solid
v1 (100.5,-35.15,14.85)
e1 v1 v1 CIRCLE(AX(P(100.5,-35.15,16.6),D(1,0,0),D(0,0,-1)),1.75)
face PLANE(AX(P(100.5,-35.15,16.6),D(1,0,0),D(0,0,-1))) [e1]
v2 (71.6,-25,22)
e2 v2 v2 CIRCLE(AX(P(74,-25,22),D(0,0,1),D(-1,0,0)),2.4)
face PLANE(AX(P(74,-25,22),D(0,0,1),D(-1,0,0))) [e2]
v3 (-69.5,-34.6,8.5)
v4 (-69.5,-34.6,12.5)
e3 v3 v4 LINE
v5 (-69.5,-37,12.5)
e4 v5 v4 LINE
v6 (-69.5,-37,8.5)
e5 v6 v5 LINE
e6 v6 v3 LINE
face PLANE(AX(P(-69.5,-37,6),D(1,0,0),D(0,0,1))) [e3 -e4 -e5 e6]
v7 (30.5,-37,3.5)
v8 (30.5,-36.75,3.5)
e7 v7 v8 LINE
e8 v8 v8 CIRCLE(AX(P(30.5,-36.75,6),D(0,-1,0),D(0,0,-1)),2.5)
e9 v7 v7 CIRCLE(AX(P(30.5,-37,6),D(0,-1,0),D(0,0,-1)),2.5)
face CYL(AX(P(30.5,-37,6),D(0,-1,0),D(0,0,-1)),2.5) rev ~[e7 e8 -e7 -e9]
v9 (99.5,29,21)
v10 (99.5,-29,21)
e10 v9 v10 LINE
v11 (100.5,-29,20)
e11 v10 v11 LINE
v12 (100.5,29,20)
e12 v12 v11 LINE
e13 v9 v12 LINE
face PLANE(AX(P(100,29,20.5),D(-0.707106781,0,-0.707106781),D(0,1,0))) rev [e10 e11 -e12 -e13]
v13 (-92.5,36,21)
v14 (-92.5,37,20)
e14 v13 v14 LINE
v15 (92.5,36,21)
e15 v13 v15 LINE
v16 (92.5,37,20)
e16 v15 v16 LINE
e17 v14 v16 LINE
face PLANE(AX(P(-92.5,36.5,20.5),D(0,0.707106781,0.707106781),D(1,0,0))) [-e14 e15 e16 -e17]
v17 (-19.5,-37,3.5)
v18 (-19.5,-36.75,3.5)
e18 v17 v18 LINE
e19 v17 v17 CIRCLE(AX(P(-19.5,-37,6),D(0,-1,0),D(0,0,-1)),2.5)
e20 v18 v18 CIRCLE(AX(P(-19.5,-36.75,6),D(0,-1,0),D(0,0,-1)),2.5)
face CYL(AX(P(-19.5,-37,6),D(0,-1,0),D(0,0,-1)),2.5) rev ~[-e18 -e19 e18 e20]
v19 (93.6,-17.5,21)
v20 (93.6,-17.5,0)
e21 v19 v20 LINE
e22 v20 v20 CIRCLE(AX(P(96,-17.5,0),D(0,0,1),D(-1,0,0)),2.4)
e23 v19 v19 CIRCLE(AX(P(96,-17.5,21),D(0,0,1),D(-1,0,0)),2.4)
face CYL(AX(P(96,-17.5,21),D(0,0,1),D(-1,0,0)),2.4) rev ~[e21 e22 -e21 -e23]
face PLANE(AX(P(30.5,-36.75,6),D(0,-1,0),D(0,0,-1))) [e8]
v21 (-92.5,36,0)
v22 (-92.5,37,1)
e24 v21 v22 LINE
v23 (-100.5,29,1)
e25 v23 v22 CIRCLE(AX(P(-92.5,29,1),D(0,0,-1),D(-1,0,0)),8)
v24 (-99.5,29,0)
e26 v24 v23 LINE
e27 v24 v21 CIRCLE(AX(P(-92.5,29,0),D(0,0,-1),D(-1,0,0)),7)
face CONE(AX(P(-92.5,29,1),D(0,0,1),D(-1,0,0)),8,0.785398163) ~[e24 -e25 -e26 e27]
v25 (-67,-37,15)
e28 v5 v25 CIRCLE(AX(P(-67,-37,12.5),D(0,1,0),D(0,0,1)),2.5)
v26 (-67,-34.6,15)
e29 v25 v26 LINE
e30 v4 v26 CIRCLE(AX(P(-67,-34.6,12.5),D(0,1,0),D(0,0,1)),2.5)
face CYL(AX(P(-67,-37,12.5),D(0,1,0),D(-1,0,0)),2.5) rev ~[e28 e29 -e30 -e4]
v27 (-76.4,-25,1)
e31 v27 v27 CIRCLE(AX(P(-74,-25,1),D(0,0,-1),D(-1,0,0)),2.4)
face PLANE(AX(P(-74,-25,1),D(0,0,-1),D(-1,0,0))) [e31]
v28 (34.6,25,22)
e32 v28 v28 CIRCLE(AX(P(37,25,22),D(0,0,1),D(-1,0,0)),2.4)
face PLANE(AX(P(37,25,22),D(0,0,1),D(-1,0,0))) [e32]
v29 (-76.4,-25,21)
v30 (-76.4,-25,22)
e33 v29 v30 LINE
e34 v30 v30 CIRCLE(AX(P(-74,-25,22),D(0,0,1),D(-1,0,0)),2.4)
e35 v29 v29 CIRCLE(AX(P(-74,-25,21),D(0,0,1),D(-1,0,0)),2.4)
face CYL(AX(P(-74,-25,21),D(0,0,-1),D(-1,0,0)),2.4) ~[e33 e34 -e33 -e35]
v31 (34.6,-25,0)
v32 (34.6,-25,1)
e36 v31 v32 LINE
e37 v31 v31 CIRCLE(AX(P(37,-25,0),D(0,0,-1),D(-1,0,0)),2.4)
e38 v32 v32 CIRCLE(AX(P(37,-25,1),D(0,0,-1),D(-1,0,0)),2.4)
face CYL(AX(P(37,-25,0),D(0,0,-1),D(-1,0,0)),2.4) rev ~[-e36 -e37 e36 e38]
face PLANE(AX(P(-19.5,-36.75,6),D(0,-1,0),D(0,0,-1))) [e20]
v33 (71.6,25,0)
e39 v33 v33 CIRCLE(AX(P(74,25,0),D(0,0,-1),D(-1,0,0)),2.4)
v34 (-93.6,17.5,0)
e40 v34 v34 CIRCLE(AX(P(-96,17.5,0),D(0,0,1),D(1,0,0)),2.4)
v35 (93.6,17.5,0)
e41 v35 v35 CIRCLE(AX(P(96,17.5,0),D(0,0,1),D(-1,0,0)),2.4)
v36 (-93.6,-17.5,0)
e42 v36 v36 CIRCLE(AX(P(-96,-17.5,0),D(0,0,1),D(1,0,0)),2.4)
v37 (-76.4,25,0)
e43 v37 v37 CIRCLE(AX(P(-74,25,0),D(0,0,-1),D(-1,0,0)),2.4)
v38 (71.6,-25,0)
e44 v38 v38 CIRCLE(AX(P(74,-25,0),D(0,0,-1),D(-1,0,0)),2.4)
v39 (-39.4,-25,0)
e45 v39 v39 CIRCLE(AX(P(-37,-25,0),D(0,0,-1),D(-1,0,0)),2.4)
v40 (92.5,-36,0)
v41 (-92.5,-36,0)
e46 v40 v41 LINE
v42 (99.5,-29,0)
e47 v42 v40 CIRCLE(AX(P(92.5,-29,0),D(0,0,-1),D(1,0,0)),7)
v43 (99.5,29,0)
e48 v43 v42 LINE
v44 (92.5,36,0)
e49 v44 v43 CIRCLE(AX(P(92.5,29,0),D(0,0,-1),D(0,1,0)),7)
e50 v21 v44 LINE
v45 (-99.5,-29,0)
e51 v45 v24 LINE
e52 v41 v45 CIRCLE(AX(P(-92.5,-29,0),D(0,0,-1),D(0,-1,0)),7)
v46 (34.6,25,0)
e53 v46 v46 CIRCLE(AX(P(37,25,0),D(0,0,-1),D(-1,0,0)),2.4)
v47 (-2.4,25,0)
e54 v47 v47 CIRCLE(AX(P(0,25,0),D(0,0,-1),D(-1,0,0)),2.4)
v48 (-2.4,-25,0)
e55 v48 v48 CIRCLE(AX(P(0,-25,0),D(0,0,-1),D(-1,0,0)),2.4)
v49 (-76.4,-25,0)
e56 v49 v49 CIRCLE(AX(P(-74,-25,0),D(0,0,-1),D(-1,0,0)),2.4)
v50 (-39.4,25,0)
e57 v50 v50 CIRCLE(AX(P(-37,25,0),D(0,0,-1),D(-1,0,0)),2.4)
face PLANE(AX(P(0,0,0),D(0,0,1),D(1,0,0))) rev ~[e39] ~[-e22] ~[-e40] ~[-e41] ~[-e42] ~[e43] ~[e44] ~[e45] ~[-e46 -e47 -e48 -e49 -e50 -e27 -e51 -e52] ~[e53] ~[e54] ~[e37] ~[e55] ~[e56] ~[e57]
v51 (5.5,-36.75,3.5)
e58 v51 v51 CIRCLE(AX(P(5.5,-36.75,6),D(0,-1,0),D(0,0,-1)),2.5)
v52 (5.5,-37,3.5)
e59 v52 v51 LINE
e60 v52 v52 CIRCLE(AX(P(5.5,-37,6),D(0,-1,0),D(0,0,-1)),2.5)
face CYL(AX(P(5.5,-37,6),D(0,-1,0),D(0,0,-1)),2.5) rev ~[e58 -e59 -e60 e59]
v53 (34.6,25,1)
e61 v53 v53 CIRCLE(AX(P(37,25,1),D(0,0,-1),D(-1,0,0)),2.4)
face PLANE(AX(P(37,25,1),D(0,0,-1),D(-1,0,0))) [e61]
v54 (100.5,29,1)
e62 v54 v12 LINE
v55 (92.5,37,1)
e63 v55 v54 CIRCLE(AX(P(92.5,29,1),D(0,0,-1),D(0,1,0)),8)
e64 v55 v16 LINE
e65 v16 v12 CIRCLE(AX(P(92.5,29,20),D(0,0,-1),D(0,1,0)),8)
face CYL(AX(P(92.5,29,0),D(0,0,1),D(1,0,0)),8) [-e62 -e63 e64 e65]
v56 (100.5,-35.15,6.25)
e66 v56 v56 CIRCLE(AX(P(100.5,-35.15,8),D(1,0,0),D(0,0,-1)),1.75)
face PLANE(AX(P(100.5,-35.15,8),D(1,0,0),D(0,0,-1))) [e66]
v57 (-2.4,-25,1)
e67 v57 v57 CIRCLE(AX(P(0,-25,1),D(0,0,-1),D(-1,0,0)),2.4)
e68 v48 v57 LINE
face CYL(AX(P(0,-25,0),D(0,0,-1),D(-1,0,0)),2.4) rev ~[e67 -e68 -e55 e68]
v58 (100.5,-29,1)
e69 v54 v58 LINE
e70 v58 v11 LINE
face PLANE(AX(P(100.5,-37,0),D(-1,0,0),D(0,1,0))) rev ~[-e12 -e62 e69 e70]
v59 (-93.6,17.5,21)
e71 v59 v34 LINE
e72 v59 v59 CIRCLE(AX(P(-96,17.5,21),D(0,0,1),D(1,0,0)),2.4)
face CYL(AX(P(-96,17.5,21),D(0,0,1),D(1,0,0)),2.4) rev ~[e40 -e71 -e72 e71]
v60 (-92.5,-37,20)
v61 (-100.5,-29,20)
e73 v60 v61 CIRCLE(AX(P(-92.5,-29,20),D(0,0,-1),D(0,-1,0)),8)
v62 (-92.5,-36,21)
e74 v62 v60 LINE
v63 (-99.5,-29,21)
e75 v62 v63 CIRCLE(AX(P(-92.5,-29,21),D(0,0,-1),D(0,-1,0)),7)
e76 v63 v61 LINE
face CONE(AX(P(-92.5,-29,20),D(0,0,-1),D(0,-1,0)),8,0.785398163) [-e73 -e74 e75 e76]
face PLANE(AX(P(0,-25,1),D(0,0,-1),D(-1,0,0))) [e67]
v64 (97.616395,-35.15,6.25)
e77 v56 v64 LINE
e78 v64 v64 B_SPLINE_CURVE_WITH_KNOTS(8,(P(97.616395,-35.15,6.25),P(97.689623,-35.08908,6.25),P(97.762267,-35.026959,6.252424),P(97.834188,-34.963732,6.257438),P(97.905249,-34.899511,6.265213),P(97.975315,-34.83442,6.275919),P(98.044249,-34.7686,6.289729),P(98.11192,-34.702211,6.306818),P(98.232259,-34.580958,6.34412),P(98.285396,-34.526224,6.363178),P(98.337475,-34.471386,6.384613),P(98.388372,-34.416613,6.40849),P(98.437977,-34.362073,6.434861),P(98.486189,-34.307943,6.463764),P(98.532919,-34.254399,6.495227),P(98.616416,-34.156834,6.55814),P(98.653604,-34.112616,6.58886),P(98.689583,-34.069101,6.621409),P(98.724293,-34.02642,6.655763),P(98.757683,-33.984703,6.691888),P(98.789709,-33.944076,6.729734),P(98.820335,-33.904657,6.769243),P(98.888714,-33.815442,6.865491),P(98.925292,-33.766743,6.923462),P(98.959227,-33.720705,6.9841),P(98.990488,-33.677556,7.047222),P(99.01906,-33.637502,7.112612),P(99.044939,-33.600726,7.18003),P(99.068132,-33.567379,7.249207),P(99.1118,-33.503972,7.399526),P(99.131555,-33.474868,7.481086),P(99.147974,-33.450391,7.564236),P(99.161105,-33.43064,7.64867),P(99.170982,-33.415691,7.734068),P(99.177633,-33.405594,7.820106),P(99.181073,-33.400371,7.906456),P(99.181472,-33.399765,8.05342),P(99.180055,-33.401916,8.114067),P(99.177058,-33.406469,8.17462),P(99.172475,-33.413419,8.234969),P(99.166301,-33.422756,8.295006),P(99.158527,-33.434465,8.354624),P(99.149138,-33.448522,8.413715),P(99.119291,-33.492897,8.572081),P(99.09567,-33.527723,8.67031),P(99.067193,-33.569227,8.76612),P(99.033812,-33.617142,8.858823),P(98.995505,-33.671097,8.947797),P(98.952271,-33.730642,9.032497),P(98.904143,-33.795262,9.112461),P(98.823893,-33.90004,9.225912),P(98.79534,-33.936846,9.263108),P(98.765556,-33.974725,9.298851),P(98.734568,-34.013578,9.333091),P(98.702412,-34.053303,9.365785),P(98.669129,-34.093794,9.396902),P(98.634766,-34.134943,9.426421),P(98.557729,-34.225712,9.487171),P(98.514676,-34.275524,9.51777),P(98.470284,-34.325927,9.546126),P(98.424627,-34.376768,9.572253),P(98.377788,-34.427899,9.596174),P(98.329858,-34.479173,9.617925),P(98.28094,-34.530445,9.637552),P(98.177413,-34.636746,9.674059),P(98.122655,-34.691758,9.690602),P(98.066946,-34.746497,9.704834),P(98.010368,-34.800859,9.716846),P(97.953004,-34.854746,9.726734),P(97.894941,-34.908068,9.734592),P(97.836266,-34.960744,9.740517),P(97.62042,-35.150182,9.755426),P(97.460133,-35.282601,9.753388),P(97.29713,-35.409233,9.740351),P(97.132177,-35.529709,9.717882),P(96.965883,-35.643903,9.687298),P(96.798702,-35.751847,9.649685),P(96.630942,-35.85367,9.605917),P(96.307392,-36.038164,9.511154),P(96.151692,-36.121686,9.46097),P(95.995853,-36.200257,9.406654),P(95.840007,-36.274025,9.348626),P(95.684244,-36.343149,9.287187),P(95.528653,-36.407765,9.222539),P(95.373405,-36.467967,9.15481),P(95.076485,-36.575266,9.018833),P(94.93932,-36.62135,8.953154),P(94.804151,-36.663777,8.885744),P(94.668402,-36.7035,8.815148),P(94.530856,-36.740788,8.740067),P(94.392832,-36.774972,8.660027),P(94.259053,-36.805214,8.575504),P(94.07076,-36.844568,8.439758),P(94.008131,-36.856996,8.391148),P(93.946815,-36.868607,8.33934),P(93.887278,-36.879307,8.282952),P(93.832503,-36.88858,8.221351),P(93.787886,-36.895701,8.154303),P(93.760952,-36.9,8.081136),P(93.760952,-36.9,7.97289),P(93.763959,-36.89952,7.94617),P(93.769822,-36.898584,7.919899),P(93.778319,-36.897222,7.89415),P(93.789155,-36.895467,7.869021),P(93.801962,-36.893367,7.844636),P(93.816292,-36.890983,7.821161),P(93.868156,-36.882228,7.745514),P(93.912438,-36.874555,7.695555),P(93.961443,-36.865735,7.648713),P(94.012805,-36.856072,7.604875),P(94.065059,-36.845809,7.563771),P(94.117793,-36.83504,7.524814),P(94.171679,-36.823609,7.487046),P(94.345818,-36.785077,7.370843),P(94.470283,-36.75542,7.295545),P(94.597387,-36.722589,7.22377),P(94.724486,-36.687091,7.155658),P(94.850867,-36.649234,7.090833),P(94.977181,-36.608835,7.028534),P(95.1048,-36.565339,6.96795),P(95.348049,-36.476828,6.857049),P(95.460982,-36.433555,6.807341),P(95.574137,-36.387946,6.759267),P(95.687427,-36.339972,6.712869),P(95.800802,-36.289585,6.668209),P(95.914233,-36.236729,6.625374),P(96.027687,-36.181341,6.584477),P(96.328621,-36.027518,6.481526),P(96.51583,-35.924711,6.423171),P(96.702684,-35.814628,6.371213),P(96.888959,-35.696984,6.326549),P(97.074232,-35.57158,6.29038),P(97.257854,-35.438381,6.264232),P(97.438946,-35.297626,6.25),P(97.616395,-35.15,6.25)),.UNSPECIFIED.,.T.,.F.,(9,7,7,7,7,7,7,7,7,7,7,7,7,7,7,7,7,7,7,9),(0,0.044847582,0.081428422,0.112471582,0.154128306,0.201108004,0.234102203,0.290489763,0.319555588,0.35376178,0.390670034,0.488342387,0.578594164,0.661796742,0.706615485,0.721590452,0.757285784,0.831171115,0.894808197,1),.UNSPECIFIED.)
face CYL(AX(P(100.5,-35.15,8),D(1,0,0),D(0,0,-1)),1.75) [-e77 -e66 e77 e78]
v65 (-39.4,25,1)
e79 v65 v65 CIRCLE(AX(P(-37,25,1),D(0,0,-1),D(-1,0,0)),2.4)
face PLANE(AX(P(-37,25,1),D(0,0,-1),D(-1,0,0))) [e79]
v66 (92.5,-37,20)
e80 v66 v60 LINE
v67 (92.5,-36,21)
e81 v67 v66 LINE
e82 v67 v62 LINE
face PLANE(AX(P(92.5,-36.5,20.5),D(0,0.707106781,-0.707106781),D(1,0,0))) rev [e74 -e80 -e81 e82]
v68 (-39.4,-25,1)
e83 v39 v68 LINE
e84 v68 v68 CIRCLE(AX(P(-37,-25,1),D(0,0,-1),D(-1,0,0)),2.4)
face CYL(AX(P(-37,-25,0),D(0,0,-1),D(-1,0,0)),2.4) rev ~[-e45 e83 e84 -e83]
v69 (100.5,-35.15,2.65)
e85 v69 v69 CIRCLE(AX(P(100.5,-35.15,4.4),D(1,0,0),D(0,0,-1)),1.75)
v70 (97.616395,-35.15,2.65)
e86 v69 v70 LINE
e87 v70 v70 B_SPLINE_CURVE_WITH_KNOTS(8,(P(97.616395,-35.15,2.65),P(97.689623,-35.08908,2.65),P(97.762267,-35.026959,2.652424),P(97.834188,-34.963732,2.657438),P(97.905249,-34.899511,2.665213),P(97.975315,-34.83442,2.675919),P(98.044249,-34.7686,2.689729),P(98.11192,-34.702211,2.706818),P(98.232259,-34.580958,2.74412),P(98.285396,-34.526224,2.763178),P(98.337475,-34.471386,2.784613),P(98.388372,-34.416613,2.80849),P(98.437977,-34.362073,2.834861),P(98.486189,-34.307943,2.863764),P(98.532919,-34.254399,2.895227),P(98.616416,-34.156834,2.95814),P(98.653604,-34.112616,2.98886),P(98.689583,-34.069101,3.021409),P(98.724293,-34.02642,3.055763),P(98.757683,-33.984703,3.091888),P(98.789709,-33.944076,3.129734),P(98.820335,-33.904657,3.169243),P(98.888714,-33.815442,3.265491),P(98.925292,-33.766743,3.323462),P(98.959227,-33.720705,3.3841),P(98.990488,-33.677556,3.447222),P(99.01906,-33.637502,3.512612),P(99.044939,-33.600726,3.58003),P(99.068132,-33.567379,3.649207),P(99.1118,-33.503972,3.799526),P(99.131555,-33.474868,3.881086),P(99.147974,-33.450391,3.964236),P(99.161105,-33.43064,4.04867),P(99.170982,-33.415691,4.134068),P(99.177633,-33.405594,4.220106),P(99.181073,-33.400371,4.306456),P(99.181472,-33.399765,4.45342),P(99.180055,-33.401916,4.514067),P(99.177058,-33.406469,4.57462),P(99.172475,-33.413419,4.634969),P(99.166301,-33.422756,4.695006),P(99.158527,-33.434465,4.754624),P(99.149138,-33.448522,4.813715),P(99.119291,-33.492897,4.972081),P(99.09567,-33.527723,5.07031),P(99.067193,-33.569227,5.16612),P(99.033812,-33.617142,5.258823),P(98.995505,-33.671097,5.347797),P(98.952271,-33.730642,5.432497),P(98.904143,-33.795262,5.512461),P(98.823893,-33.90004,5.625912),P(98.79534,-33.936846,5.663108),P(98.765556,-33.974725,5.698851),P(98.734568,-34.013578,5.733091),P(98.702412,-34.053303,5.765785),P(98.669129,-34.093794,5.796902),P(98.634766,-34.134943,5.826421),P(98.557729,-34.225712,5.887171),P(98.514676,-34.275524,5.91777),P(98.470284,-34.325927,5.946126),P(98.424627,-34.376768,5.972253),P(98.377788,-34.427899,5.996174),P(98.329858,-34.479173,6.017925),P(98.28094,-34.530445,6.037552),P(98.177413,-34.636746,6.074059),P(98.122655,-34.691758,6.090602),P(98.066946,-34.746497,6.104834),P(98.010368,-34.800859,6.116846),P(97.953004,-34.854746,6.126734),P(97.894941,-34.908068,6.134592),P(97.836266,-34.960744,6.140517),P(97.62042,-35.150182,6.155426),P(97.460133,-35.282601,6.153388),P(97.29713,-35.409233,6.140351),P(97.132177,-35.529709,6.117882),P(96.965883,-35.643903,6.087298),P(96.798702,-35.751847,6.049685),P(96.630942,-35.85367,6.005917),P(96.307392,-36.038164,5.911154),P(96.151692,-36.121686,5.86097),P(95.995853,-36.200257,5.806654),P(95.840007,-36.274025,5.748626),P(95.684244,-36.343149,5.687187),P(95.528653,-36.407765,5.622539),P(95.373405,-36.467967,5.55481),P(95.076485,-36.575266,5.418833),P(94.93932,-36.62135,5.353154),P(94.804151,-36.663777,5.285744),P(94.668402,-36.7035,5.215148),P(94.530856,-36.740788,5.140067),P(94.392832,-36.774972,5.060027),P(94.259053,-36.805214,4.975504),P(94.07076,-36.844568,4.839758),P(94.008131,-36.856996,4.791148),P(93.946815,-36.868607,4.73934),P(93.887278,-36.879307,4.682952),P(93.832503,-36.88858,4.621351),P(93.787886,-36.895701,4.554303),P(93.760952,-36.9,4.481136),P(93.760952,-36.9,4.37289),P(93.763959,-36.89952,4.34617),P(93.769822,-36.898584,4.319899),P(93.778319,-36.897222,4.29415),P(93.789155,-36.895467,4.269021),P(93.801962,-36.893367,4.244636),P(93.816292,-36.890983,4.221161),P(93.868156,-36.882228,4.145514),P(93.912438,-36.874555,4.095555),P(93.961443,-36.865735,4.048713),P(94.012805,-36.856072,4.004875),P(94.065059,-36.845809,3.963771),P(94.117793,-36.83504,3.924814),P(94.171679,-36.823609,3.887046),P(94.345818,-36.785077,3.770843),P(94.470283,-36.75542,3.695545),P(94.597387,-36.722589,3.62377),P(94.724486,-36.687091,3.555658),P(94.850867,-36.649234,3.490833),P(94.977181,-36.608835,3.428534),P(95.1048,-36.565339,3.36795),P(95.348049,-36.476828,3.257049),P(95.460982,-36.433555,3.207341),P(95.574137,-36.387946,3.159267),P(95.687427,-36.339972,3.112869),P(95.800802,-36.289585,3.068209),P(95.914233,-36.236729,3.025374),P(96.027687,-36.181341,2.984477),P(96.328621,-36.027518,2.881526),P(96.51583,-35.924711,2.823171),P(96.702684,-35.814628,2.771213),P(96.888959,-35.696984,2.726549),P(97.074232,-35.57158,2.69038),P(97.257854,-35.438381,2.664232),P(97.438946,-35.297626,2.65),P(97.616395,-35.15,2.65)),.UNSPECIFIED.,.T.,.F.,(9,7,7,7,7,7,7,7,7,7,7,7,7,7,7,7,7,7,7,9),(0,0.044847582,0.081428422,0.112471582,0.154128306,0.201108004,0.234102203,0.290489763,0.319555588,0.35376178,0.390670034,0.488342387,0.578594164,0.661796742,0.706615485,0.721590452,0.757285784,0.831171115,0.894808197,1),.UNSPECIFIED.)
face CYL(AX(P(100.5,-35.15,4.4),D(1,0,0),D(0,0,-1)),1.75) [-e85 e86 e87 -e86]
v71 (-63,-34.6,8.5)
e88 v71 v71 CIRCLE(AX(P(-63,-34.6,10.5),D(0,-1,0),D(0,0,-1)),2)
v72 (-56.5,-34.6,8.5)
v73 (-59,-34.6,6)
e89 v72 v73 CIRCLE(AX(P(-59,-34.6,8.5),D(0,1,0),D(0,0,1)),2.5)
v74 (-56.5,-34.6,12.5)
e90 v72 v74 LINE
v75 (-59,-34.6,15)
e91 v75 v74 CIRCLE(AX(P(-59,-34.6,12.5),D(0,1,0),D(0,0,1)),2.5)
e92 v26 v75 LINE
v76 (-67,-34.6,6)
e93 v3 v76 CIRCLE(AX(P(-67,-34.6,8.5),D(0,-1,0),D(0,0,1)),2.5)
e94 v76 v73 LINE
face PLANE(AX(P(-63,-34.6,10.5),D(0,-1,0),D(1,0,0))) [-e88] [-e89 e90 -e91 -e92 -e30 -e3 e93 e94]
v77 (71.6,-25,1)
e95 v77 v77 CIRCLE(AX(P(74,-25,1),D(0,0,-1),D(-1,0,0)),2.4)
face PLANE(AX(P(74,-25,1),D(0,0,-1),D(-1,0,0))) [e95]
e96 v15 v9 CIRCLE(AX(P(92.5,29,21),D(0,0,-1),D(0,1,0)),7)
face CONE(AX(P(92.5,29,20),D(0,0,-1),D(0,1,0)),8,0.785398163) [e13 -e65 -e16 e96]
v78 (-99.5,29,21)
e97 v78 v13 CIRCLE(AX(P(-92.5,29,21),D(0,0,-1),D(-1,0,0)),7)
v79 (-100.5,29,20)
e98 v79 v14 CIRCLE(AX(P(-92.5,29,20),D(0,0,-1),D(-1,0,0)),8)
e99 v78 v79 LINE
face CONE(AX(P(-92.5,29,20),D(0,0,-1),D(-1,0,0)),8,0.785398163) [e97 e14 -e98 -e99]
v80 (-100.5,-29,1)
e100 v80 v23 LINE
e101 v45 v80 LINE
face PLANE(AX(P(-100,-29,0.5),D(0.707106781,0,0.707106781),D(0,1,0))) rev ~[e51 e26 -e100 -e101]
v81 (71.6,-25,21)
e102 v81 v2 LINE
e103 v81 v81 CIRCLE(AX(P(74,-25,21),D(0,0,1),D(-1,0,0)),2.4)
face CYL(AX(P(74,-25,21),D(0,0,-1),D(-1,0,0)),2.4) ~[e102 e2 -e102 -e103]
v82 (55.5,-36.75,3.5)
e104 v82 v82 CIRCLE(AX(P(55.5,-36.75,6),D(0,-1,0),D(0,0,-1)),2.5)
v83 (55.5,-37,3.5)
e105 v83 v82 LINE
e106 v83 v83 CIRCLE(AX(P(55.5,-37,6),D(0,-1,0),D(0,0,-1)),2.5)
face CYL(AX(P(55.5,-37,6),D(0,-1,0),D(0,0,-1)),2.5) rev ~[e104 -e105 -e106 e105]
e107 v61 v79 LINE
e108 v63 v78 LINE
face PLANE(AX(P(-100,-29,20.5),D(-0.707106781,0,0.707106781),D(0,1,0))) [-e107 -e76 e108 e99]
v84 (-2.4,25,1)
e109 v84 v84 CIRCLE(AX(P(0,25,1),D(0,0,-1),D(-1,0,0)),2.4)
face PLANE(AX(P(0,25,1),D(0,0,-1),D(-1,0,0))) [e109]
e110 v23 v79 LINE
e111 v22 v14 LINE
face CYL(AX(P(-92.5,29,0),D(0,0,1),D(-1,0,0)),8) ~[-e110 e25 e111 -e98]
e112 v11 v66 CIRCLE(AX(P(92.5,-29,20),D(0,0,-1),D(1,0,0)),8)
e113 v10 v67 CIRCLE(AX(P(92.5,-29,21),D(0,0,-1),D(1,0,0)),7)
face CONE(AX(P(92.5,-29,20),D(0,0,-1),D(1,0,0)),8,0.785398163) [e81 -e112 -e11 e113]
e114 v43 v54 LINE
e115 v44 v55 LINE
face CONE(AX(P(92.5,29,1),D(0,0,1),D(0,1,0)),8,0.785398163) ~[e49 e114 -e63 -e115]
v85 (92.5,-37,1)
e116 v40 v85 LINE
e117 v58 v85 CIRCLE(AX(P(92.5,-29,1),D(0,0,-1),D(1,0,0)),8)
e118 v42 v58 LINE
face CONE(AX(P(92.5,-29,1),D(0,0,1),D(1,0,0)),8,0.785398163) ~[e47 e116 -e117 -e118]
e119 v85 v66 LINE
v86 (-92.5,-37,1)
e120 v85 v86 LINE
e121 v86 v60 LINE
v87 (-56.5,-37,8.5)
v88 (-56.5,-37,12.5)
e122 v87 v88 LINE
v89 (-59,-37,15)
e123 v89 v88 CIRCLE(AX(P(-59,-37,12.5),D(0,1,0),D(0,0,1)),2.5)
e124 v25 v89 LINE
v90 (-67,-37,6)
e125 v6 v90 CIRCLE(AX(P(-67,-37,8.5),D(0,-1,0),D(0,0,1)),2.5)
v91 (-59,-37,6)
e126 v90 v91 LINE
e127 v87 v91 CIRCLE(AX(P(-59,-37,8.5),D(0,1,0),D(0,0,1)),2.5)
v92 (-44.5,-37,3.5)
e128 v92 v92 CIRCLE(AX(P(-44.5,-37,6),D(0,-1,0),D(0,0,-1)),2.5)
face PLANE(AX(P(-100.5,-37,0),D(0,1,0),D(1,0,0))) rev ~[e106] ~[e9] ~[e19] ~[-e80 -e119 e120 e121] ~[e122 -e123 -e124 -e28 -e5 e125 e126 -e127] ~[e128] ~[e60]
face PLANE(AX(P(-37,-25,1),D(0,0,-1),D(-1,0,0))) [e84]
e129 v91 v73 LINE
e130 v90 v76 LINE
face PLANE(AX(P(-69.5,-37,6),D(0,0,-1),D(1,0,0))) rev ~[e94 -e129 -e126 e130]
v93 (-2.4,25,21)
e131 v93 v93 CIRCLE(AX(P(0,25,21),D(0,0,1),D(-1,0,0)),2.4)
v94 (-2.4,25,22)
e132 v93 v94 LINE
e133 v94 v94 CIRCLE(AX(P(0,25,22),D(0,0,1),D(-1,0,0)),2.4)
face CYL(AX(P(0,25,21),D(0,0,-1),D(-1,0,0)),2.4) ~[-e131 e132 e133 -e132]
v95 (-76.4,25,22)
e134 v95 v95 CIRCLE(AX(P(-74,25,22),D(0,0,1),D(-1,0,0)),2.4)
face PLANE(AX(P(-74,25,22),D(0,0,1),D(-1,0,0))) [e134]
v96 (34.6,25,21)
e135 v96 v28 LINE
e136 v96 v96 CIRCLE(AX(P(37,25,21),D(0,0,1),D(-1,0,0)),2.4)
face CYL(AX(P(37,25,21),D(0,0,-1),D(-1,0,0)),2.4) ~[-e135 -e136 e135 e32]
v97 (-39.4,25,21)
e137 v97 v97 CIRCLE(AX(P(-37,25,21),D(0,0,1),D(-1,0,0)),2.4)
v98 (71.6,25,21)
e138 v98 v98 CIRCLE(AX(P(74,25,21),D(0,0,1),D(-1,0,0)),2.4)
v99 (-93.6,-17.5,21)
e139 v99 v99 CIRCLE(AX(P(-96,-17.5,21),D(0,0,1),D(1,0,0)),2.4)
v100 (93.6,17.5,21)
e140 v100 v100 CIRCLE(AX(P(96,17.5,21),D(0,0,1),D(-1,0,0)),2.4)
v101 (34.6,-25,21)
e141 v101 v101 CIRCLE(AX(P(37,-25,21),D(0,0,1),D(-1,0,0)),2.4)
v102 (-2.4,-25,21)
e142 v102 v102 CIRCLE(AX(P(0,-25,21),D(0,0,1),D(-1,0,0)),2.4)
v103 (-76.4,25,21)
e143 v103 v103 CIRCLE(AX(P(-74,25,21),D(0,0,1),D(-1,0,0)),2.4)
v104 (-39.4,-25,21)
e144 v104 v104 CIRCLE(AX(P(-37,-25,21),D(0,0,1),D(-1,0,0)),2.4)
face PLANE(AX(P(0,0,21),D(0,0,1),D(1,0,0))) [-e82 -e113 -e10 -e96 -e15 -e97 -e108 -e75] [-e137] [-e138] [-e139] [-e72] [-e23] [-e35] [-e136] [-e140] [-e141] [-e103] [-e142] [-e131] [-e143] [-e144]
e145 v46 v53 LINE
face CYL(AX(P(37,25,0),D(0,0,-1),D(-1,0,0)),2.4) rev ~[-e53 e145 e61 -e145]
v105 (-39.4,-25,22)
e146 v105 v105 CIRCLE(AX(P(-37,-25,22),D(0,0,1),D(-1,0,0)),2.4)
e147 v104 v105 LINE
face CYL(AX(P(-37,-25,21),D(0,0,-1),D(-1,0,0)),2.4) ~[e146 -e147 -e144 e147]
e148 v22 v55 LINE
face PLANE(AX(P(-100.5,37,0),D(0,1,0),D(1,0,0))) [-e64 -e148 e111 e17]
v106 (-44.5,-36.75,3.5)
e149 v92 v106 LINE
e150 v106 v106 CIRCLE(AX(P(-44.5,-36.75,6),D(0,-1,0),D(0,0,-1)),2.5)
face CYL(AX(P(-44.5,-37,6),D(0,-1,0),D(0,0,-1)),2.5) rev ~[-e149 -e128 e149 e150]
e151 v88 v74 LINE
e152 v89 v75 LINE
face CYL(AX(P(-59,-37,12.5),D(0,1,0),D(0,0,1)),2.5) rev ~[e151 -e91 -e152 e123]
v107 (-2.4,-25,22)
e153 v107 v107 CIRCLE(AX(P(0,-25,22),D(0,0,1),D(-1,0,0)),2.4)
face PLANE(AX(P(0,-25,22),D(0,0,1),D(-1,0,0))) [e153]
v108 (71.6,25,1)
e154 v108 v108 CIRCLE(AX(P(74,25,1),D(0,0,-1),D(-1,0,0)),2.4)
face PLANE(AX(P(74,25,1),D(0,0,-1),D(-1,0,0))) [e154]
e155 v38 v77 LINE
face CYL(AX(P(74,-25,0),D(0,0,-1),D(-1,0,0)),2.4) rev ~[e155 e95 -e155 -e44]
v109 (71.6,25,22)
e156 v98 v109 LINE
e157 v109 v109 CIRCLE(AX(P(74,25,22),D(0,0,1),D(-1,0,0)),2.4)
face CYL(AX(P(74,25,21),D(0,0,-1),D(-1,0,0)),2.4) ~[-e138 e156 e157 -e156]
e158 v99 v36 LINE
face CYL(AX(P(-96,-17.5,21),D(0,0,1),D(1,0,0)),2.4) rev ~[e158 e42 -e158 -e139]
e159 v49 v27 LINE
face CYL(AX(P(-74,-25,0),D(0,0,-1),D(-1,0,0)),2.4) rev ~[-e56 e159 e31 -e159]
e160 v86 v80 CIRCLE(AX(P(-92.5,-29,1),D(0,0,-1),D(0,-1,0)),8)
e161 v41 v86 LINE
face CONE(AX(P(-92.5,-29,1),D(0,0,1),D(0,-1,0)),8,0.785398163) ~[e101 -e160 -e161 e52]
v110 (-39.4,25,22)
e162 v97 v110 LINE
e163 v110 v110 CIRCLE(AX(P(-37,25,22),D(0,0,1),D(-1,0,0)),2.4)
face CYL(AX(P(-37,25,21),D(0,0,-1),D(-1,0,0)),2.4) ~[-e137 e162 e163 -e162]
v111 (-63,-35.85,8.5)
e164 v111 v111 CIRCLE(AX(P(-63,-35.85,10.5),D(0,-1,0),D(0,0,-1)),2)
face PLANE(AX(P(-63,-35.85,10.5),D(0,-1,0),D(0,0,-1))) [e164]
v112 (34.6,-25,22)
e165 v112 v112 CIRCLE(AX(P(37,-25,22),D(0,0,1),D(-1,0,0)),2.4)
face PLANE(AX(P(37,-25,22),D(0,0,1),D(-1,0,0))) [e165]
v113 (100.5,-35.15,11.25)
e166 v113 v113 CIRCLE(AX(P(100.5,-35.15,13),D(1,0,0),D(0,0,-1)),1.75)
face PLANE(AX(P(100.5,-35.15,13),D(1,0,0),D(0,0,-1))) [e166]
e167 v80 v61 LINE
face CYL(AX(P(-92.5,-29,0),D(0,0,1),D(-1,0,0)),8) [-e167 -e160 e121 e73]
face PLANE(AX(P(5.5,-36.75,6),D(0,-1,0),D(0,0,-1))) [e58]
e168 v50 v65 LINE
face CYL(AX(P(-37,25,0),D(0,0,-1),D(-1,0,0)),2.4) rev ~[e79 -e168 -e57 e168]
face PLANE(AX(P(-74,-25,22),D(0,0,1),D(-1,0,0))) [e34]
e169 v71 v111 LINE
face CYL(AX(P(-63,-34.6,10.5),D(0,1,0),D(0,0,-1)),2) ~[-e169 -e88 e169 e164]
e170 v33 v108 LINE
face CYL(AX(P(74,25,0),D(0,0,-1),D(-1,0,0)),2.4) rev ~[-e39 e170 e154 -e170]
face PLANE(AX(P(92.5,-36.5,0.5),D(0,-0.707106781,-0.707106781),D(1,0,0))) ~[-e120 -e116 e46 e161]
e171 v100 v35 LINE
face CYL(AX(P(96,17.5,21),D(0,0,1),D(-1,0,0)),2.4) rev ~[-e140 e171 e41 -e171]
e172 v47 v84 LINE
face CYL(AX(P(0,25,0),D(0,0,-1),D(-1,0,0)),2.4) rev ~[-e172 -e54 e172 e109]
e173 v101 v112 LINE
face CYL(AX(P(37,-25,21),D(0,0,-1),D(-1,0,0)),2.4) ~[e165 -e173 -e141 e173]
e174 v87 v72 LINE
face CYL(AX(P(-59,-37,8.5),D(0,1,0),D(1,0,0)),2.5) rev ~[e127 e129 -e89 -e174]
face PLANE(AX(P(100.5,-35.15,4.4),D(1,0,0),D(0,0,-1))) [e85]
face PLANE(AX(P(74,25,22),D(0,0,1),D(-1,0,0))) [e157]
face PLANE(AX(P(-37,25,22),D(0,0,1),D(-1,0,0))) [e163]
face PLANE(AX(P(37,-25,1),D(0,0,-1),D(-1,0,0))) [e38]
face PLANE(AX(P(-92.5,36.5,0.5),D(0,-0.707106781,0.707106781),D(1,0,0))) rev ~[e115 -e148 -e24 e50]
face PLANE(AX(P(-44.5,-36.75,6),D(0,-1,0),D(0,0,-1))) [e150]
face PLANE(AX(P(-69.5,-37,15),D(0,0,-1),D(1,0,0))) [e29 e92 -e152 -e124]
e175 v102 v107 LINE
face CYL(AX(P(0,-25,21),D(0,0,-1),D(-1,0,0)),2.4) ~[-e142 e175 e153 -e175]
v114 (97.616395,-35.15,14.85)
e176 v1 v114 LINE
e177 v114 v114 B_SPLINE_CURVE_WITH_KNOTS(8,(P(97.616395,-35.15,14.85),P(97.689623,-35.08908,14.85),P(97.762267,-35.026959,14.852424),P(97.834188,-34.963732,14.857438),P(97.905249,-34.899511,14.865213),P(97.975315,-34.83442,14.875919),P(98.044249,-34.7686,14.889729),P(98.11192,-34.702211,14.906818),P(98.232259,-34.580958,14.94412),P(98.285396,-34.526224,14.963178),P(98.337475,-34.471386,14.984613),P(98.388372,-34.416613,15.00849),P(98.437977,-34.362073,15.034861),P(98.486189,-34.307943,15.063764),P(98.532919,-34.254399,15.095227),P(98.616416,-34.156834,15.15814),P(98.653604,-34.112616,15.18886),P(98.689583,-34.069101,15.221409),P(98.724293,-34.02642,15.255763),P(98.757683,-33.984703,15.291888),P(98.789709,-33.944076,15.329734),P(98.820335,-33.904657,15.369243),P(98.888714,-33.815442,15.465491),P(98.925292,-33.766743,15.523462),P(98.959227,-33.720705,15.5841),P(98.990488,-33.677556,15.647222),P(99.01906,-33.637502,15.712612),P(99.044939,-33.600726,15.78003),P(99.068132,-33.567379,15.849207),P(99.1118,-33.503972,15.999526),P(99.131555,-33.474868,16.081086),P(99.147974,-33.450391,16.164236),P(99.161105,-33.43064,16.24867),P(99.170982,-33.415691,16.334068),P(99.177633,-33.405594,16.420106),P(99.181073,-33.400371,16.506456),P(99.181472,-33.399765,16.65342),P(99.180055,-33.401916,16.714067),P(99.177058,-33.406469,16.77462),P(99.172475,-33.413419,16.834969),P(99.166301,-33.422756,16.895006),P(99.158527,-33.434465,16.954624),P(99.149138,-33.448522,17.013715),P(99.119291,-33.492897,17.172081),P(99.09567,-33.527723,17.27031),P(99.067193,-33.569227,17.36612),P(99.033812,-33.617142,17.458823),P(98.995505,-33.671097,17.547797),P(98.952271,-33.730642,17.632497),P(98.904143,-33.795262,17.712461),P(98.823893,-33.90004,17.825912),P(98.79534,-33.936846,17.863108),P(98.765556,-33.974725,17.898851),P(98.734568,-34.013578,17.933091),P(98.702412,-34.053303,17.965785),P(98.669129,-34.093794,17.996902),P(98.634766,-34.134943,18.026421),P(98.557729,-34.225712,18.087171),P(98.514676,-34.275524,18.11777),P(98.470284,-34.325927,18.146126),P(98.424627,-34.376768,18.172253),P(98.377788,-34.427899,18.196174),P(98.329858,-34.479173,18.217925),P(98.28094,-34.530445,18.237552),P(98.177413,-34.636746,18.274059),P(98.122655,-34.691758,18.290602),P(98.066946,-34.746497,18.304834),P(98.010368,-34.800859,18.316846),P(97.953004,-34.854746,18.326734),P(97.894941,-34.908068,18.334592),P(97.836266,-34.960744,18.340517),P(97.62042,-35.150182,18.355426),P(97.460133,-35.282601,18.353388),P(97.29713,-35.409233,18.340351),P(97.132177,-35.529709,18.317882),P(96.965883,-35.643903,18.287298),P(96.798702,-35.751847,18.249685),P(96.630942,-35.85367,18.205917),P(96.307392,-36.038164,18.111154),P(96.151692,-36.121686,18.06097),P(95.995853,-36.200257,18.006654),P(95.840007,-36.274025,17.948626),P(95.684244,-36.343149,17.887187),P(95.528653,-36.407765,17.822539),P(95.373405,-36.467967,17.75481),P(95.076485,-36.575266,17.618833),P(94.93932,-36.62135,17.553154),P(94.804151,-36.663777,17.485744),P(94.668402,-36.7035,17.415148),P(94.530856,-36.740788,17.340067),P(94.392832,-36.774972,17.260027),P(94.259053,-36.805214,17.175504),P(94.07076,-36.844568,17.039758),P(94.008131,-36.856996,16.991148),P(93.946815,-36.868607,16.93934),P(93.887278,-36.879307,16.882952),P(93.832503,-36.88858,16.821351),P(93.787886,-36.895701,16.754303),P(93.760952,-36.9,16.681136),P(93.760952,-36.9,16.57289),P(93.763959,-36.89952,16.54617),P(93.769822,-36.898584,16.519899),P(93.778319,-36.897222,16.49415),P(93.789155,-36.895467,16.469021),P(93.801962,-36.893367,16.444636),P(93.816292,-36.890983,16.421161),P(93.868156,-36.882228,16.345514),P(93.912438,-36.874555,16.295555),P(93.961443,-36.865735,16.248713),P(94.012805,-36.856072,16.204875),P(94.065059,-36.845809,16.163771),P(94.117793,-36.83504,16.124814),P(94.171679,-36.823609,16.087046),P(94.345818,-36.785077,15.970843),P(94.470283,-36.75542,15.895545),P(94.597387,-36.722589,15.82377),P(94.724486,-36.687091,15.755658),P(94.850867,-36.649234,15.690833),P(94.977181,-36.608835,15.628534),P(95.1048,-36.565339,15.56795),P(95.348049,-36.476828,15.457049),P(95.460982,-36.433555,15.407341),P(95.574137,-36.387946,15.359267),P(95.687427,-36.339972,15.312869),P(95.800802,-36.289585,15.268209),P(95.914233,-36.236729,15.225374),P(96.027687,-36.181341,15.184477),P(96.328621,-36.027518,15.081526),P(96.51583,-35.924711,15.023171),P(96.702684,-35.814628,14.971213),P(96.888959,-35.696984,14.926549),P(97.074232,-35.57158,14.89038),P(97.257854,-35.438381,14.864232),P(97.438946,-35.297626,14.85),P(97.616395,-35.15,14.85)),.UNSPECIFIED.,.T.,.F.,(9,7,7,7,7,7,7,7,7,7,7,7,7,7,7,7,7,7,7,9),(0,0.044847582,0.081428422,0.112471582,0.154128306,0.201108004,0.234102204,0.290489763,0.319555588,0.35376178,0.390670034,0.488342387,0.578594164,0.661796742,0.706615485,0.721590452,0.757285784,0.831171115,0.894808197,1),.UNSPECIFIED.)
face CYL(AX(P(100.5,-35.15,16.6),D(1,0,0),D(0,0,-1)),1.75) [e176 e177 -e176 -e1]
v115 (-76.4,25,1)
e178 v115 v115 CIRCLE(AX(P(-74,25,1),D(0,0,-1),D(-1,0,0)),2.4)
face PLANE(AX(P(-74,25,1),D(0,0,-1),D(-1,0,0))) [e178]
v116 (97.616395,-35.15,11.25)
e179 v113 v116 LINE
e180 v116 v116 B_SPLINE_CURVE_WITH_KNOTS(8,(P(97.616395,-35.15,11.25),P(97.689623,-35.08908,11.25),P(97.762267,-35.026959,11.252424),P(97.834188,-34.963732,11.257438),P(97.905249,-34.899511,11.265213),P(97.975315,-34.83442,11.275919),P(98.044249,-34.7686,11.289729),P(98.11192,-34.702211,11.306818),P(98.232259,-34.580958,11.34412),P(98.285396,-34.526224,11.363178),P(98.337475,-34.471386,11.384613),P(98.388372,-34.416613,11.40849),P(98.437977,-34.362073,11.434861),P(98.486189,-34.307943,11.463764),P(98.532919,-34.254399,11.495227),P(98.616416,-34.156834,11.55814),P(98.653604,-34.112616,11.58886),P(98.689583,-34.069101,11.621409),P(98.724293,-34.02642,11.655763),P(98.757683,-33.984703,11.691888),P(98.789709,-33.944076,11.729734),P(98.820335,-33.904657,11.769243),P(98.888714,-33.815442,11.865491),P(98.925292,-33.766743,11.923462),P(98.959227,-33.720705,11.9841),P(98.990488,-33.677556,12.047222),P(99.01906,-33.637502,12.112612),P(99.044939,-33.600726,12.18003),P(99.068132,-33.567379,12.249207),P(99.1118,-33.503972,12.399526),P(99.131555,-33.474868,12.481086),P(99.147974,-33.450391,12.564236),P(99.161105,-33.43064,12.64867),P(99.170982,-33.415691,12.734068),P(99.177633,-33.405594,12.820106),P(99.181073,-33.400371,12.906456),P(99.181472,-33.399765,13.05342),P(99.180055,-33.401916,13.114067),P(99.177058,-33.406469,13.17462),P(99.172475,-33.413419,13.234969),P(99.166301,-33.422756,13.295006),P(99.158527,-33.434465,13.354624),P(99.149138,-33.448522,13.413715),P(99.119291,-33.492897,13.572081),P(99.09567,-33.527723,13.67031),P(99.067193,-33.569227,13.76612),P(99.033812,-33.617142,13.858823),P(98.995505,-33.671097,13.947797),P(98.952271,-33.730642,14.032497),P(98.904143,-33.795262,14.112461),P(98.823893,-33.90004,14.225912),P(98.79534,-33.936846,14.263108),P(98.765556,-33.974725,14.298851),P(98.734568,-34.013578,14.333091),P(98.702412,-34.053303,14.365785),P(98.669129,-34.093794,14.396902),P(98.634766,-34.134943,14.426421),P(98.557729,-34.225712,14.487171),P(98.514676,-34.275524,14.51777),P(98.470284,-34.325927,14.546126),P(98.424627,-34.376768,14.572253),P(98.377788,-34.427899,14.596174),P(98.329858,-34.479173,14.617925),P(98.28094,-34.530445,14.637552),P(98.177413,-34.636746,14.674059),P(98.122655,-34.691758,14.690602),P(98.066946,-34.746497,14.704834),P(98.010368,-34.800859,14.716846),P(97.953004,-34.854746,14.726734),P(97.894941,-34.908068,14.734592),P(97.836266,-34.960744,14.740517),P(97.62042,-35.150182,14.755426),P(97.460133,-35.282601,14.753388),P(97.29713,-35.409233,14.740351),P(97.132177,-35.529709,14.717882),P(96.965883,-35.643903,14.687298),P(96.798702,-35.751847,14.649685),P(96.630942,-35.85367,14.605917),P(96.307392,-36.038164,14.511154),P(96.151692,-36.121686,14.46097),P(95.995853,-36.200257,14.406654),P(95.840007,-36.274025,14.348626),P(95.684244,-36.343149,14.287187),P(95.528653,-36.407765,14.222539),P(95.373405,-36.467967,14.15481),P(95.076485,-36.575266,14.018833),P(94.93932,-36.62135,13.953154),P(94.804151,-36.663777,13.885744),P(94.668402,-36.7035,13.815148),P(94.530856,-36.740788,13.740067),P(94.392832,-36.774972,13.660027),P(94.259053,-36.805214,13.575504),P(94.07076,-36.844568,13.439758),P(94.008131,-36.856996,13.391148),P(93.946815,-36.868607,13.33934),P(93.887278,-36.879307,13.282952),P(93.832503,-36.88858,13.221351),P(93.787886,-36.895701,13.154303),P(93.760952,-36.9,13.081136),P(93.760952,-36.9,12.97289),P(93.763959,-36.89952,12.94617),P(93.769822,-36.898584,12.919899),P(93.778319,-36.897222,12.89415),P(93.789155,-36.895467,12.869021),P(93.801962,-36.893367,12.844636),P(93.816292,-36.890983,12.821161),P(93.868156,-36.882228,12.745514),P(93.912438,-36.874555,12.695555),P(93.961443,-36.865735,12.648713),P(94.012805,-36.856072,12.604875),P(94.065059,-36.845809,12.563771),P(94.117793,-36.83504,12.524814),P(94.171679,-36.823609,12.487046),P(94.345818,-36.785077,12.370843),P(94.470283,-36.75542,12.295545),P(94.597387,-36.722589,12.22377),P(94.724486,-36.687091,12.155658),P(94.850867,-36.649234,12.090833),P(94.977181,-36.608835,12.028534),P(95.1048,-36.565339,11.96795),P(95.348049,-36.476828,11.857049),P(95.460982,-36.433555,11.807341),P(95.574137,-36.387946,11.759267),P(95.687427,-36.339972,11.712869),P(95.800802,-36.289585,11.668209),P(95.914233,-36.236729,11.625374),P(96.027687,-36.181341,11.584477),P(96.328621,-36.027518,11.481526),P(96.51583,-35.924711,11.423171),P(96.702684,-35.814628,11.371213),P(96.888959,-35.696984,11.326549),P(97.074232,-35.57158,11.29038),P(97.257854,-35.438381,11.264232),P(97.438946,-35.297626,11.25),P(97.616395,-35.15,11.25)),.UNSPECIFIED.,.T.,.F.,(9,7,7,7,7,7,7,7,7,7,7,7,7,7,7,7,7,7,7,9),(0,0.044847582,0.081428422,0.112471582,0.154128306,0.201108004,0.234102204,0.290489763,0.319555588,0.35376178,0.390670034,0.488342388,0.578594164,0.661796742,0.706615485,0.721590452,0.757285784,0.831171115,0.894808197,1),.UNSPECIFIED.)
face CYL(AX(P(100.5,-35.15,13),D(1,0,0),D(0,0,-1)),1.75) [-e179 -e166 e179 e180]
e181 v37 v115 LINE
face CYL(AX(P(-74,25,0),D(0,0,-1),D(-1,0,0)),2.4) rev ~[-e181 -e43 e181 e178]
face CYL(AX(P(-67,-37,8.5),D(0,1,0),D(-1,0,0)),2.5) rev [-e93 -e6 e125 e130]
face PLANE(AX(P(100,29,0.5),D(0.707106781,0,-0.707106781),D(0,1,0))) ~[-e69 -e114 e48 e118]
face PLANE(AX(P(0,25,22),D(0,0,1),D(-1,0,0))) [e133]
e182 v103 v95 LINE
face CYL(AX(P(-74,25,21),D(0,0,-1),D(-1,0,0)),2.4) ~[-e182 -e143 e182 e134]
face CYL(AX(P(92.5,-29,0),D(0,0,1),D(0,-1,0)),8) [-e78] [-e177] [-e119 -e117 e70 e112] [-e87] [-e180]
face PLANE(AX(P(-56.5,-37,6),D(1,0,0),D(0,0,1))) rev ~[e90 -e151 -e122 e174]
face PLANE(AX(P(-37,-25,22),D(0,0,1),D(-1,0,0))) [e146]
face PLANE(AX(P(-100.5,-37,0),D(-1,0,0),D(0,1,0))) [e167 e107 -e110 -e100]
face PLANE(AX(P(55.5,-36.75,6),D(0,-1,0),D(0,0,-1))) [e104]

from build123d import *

# Parameters (mm, degrees)
SKETCH1_W           = 201
SKETCH1_H           = 74
BOSS_EXTRUDE1_DEPTH = 21
FILLET1_R           = 8
CHAMFER1_SIZE       = 1
CUT_EXTRUDE1_REACH  = 111.134
SKETCH2_R           = 2.4
SKETCH3_R           = 2.4
BOSS_EXTRUDE2_DEPTH = 1
BOSS_EXTRUDE6_REACH = 207.558
SKETCH4_R           = 1.75
SKETCH5_R           = 2.4
CUT_EXTRUDE2_DEPTH  = 1
SKETCH6_W           = 13
SKETCH6_H           = 9
CUT_EXTRUDE3_DEPTH  = 2.4
SKETCH7_R           = 2
BOSS_EXTRUDE7_DEPTH = 1.25
FILLET2_R           = 2.5
SKETCH8_R           = 2.5
CUT_EXTRUDE4_DEPTH  = 0.25
LPATTERN1_COUNT     = 5
LPATTERN1_PITCH     = 25


with BuildPart() as part:
    # Sketch1 → Boss-Extrude1 (new body)
    with BuildSketch(Plane.XY):
        Rectangle(SKETCH1_W, SKETCH1_H)
    extrude(amount=BOSS_EXTRUDE1_DEPTH)

    # Fillet1
    fillet1_edges = [part.edges().sort_by_distance(p)[0] for p in [
        (100.5, -37, 10.5),
        (-100.5, -37, 10.5),
        (-100.5, 37, 10.5),
        (100.5, 37, 10.5),
    ]]
    fillet(fillet1_edges, radius=FILLET1_R)

    # Chamfer1
    chamfer1_edges = [part.edges().sort_by_distance(p)[0] for p in [
        (0, 37, 0),
        (0, 37, 21),
        (100.5, 0, 0),
        (0, -37, 0),
        (-100.5, 0, 0),
        (-98.156854249, 34.656854249, 0),
        (-98.156854249, -34.656854249, 0),
        (98.156854249, -34.656854249, 0),
        (98.156854249, 34.656854249, 0),
        (100.5, 0, 21),
        (-100.5, 0, 21),
        (0, -37, 21),
        (-98.156854249, 34.656854249, 21),
        (-98.156854249, -34.656854249, 21),
        (98.156854249, -34.656854249, 21),
        (98.156854249, 34.656854249, 21),
    ]]
    chamfer(chamfer1_edges, length=CHAMFER1_SIZE)

    # Sketch2 → Cut-Extrude1 (cut, up to next)
    with BuildSketch(Plane.XY.offset(21), mode=Mode.PRIVATE) as cut_extrude1_sk1:
        with Locations((-96, 17.5)):
            Circle(SKETCH2_R)
    cut_extrude1_tool1 = extrude(cut_extrude1_sk1.sketch, amount=-CUT_EXTRUDE1_REACH, mode=Mode.PRIVATE) & part.part
    # Sketch2 → Cut-Extrude1 (cut, up to next)
    with BuildSketch(Plane.XY.offset(21), mode=Mode.PRIVATE) as cut_extrude1_sk2:
        with Locations((-96, -17.5)):
            Circle(SKETCH2_R)
    cut_extrude1_tool2 = extrude(cut_extrude1_sk2.sketch, amount=-CUT_EXTRUDE1_REACH, mode=Mode.PRIVATE) & part.part
    # Sketch2 → Cut-Extrude1 (cut, up to next)
    with BuildSketch(Plane.XY.offset(21), mode=Mode.PRIVATE) as cut_extrude1_sk3:
        with Locations(Location((96, 17.5, 0), (0, 0, 180))):
            Circle(SKETCH2_R)
    cut_extrude1_tool3 = extrude(cut_extrude1_sk3.sketch, amount=-CUT_EXTRUDE1_REACH, mode=Mode.PRIVATE) & part.part
    # Sketch2 → Cut-Extrude1 (cut, up to next)
    with BuildSketch(Plane.XY.offset(21), mode=Mode.PRIVATE) as cut_extrude1_sk4:
        with Locations(Location((96, -17.5, 0), (0, 0, 180))):
            Circle(SKETCH2_R)
    cut_extrude1_tool4 = extrude(cut_extrude1_sk4.sketch, amount=-CUT_EXTRUDE1_REACH, mode=Mode.PRIVATE) & part.part
    add(cut_extrude1_tool1.solids().sort_by_distance((-96, 17.5, 21))[0], mode=Mode.SUBTRACT)
    add(cut_extrude1_tool2.solids().sort_by_distance((-96, -17.5, 21))[0], mode=Mode.SUBTRACT)
    add(cut_extrude1_tool3.solids().sort_by_distance((96, 17.5, 21))[0], mode=Mode.SUBTRACT)
    add(cut_extrude1_tool4.solids().sort_by_distance((96, -17.5, 21))[0], mode=Mode.SUBTRACT)

    # Sketch3 → Boss-Extrude2 (add)
    with BuildSketch(Plane.XY.offset(21)):
        with Locations(Location((0, 25, 0), (0, 0, 180))):
            Circle(SKETCH3_R)
        with Locations(Location((0, -25, 0), (0, 0, 180))):
            Circle(SKETCH3_R)
        with Locations(Location((-74, 25, 0), (0, 0, 180))):
            Circle(SKETCH3_R)
        with Locations(Location((-37, 25, 0), (0, 0, 180))):
            Circle(SKETCH3_R)
        with Locations(Location((37, 25, 0), (0, 0, 180))):
            Circle(SKETCH3_R)
        with Locations(Location((74, 25, 0), (0, 0, 180))):
            Circle(SKETCH3_R)
        with Locations(Location((74, -25, 0), (0, 0, 180))):
            Circle(SKETCH3_R)
        with Locations(Location((37, -25, 0), (0, 0, 180))):
            Circle(SKETCH3_R)
        with Locations(Location((-37, -25, 0), (0, 0, 180))):
            Circle(SKETCH3_R)
        with Locations(Location((-74, -25, 0), (0, 0, 180))):
            Circle(SKETCH3_R)
    extrude(amount=BOSS_EXTRUDE2_DEPTH)

    # Sketch4 → Boss-Extrude6 (add, up to next)
    with BuildSketch(Plane(origin=(100.5, 0, 0), x_dir=(0, 0, -1), z_dir=(1, 0, 0)), mode=Mode.PRIVATE) as boss_extrude6_sk1:
        with Locations((-16.6, -35.15)):
            Circle(SKETCH4_R)
    boss_extrude6_tool1 = extrude(boss_extrude6_sk1.sketch, amount=-BOSS_EXTRUDE6_REACH, mode=Mode.PRIVATE) - part.part
    # Sketch4 → Boss-Extrude6 (add, up to next)
    with BuildSketch(Plane(origin=(100.5, 0, 0), x_dir=(0, 0, -1), z_dir=(1, 0, 0)), mode=Mode.PRIVATE) as boss_extrude6_sk2:
        with Locations((-13, -35.15)):
            Circle(SKETCH4_R)
    boss_extrude6_tool2 = extrude(boss_extrude6_sk2.sketch, amount=-BOSS_EXTRUDE6_REACH, mode=Mode.PRIVATE) - part.part
    # Sketch4 → Boss-Extrude6 (add, up to next)
    with BuildSketch(Plane(origin=(100.5, 0, 0), x_dir=(0, 0, -1), z_dir=(1, 0, 0)), mode=Mode.PRIVATE) as boss_extrude6_sk3:
        with Locations((-8, -35.15)):
            Circle(SKETCH4_R)
    boss_extrude6_tool3 = extrude(boss_extrude6_sk3.sketch, amount=-BOSS_EXTRUDE6_REACH, mode=Mode.PRIVATE) - part.part
    # Sketch4 → Boss-Extrude6 (add, up to next)
    with BuildSketch(Plane(origin=(100.5, 0, 0), x_dir=(0, 0, -1), z_dir=(1, 0, 0)), mode=Mode.PRIVATE) as boss_extrude6_sk4:
        with Locations((-4.4, -35.15)):
            Circle(SKETCH4_R)
    boss_extrude6_tool4 = extrude(boss_extrude6_sk4.sketch, amount=-BOSS_EXTRUDE6_REACH, mode=Mode.PRIVATE) - part.part
    add(boss_extrude6_tool1.solids().sort_by_distance((100.5, -35.15, 16.6))[0])
    add(boss_extrude6_tool2.solids().sort_by_distance((100.5, -35.15, 13))[0])
    add(boss_extrude6_tool3.solids().sort_by_distance((100.5, -35.15, 8))[0])
    add(boss_extrude6_tool4.solids().sort_by_distance((100.5, -35.15, 4.4))[0])

    # Sketch5 → Cut-Extrude2 (cut)
    with BuildSketch(Plane(origin=(0, 0, 0), x_dir=(-1, 0, 0), z_dir=(0, 0, -1))):
        with Locations((0, 25)):
            Circle(SKETCH5_R)
        with Locations((0, -25)):
            Circle(SKETCH5_R)
        with Locations((-74, 25)):
            Circle(SKETCH5_R)
        with Locations((-37, 25)):
            Circle(SKETCH5_R)
        with Locations((37, 25)):
            Circle(SKETCH5_R)
        with Locations((74, 25)):
            Circle(SKETCH5_R)
        with Locations((74, -25)):
            Circle(SKETCH5_R)
        with Locations((37, -25)):
            Circle(SKETCH5_R)
        with Locations((-37, -25)):
            Circle(SKETCH5_R)
        with Locations((-74, -25)):
            Circle(SKETCH5_R)
    extrude(amount=-CUT_EXTRUDE2_DEPTH, mode=Mode.SUBTRACT)

    # Sketch6 → Cut-Extrude3 (cut)
    with BuildSketch(Plane.XZ.offset(37)):
        with Locations((-63, 10.5)):
            Rectangle(SKETCH6_W, SKETCH6_H)
    extrude(amount=-CUT_EXTRUDE3_DEPTH, mode=Mode.SUBTRACT)

    # Sketch7 → Boss-Extrude7 (add)
    with BuildSketch(Plane.XZ.offset(34.6)):
        with Locations(Location((-63, 10.5, 0), (0, 0, 270))):
            Circle(SKETCH7_R)
    extrude(amount=BOSS_EXTRUDE7_DEPTH)

    # Fillet2
    fillet2_edges = [part.edges().sort_by_distance(p)[0] for p in [
        (-56.5, -35.8, 15),
        (-56.5, -35.8, 6),
        (-69.5, -35.8, 6),
        (-69.5, -35.8, 15),
    ]]
    fillet(fillet2_edges, radius=FILLET2_R)

    # Sketch8 → Cut-Extrude4 (cut)
    with BuildSketch(Plane.XZ.offset(37)):
        with Locations(Location((55.5, 6, 0), (0, 0, 270))):
            Circle(SKETCH8_R)
    cut_extrude4 = extrude(amount=-CUT_EXTRUDE4_DEPTH, mode=Mode.SUBTRACT)

    # LPattern1: Cut-Extrude4 ×5
    with Locations(*[(-i * LPATTERN1_PITCH, 0, 0) for i in range(1, LPATTERN1_COUNT)]):
        add(cut_extrude4, mode=Mode.SUBTRACT)


solid = part.part
